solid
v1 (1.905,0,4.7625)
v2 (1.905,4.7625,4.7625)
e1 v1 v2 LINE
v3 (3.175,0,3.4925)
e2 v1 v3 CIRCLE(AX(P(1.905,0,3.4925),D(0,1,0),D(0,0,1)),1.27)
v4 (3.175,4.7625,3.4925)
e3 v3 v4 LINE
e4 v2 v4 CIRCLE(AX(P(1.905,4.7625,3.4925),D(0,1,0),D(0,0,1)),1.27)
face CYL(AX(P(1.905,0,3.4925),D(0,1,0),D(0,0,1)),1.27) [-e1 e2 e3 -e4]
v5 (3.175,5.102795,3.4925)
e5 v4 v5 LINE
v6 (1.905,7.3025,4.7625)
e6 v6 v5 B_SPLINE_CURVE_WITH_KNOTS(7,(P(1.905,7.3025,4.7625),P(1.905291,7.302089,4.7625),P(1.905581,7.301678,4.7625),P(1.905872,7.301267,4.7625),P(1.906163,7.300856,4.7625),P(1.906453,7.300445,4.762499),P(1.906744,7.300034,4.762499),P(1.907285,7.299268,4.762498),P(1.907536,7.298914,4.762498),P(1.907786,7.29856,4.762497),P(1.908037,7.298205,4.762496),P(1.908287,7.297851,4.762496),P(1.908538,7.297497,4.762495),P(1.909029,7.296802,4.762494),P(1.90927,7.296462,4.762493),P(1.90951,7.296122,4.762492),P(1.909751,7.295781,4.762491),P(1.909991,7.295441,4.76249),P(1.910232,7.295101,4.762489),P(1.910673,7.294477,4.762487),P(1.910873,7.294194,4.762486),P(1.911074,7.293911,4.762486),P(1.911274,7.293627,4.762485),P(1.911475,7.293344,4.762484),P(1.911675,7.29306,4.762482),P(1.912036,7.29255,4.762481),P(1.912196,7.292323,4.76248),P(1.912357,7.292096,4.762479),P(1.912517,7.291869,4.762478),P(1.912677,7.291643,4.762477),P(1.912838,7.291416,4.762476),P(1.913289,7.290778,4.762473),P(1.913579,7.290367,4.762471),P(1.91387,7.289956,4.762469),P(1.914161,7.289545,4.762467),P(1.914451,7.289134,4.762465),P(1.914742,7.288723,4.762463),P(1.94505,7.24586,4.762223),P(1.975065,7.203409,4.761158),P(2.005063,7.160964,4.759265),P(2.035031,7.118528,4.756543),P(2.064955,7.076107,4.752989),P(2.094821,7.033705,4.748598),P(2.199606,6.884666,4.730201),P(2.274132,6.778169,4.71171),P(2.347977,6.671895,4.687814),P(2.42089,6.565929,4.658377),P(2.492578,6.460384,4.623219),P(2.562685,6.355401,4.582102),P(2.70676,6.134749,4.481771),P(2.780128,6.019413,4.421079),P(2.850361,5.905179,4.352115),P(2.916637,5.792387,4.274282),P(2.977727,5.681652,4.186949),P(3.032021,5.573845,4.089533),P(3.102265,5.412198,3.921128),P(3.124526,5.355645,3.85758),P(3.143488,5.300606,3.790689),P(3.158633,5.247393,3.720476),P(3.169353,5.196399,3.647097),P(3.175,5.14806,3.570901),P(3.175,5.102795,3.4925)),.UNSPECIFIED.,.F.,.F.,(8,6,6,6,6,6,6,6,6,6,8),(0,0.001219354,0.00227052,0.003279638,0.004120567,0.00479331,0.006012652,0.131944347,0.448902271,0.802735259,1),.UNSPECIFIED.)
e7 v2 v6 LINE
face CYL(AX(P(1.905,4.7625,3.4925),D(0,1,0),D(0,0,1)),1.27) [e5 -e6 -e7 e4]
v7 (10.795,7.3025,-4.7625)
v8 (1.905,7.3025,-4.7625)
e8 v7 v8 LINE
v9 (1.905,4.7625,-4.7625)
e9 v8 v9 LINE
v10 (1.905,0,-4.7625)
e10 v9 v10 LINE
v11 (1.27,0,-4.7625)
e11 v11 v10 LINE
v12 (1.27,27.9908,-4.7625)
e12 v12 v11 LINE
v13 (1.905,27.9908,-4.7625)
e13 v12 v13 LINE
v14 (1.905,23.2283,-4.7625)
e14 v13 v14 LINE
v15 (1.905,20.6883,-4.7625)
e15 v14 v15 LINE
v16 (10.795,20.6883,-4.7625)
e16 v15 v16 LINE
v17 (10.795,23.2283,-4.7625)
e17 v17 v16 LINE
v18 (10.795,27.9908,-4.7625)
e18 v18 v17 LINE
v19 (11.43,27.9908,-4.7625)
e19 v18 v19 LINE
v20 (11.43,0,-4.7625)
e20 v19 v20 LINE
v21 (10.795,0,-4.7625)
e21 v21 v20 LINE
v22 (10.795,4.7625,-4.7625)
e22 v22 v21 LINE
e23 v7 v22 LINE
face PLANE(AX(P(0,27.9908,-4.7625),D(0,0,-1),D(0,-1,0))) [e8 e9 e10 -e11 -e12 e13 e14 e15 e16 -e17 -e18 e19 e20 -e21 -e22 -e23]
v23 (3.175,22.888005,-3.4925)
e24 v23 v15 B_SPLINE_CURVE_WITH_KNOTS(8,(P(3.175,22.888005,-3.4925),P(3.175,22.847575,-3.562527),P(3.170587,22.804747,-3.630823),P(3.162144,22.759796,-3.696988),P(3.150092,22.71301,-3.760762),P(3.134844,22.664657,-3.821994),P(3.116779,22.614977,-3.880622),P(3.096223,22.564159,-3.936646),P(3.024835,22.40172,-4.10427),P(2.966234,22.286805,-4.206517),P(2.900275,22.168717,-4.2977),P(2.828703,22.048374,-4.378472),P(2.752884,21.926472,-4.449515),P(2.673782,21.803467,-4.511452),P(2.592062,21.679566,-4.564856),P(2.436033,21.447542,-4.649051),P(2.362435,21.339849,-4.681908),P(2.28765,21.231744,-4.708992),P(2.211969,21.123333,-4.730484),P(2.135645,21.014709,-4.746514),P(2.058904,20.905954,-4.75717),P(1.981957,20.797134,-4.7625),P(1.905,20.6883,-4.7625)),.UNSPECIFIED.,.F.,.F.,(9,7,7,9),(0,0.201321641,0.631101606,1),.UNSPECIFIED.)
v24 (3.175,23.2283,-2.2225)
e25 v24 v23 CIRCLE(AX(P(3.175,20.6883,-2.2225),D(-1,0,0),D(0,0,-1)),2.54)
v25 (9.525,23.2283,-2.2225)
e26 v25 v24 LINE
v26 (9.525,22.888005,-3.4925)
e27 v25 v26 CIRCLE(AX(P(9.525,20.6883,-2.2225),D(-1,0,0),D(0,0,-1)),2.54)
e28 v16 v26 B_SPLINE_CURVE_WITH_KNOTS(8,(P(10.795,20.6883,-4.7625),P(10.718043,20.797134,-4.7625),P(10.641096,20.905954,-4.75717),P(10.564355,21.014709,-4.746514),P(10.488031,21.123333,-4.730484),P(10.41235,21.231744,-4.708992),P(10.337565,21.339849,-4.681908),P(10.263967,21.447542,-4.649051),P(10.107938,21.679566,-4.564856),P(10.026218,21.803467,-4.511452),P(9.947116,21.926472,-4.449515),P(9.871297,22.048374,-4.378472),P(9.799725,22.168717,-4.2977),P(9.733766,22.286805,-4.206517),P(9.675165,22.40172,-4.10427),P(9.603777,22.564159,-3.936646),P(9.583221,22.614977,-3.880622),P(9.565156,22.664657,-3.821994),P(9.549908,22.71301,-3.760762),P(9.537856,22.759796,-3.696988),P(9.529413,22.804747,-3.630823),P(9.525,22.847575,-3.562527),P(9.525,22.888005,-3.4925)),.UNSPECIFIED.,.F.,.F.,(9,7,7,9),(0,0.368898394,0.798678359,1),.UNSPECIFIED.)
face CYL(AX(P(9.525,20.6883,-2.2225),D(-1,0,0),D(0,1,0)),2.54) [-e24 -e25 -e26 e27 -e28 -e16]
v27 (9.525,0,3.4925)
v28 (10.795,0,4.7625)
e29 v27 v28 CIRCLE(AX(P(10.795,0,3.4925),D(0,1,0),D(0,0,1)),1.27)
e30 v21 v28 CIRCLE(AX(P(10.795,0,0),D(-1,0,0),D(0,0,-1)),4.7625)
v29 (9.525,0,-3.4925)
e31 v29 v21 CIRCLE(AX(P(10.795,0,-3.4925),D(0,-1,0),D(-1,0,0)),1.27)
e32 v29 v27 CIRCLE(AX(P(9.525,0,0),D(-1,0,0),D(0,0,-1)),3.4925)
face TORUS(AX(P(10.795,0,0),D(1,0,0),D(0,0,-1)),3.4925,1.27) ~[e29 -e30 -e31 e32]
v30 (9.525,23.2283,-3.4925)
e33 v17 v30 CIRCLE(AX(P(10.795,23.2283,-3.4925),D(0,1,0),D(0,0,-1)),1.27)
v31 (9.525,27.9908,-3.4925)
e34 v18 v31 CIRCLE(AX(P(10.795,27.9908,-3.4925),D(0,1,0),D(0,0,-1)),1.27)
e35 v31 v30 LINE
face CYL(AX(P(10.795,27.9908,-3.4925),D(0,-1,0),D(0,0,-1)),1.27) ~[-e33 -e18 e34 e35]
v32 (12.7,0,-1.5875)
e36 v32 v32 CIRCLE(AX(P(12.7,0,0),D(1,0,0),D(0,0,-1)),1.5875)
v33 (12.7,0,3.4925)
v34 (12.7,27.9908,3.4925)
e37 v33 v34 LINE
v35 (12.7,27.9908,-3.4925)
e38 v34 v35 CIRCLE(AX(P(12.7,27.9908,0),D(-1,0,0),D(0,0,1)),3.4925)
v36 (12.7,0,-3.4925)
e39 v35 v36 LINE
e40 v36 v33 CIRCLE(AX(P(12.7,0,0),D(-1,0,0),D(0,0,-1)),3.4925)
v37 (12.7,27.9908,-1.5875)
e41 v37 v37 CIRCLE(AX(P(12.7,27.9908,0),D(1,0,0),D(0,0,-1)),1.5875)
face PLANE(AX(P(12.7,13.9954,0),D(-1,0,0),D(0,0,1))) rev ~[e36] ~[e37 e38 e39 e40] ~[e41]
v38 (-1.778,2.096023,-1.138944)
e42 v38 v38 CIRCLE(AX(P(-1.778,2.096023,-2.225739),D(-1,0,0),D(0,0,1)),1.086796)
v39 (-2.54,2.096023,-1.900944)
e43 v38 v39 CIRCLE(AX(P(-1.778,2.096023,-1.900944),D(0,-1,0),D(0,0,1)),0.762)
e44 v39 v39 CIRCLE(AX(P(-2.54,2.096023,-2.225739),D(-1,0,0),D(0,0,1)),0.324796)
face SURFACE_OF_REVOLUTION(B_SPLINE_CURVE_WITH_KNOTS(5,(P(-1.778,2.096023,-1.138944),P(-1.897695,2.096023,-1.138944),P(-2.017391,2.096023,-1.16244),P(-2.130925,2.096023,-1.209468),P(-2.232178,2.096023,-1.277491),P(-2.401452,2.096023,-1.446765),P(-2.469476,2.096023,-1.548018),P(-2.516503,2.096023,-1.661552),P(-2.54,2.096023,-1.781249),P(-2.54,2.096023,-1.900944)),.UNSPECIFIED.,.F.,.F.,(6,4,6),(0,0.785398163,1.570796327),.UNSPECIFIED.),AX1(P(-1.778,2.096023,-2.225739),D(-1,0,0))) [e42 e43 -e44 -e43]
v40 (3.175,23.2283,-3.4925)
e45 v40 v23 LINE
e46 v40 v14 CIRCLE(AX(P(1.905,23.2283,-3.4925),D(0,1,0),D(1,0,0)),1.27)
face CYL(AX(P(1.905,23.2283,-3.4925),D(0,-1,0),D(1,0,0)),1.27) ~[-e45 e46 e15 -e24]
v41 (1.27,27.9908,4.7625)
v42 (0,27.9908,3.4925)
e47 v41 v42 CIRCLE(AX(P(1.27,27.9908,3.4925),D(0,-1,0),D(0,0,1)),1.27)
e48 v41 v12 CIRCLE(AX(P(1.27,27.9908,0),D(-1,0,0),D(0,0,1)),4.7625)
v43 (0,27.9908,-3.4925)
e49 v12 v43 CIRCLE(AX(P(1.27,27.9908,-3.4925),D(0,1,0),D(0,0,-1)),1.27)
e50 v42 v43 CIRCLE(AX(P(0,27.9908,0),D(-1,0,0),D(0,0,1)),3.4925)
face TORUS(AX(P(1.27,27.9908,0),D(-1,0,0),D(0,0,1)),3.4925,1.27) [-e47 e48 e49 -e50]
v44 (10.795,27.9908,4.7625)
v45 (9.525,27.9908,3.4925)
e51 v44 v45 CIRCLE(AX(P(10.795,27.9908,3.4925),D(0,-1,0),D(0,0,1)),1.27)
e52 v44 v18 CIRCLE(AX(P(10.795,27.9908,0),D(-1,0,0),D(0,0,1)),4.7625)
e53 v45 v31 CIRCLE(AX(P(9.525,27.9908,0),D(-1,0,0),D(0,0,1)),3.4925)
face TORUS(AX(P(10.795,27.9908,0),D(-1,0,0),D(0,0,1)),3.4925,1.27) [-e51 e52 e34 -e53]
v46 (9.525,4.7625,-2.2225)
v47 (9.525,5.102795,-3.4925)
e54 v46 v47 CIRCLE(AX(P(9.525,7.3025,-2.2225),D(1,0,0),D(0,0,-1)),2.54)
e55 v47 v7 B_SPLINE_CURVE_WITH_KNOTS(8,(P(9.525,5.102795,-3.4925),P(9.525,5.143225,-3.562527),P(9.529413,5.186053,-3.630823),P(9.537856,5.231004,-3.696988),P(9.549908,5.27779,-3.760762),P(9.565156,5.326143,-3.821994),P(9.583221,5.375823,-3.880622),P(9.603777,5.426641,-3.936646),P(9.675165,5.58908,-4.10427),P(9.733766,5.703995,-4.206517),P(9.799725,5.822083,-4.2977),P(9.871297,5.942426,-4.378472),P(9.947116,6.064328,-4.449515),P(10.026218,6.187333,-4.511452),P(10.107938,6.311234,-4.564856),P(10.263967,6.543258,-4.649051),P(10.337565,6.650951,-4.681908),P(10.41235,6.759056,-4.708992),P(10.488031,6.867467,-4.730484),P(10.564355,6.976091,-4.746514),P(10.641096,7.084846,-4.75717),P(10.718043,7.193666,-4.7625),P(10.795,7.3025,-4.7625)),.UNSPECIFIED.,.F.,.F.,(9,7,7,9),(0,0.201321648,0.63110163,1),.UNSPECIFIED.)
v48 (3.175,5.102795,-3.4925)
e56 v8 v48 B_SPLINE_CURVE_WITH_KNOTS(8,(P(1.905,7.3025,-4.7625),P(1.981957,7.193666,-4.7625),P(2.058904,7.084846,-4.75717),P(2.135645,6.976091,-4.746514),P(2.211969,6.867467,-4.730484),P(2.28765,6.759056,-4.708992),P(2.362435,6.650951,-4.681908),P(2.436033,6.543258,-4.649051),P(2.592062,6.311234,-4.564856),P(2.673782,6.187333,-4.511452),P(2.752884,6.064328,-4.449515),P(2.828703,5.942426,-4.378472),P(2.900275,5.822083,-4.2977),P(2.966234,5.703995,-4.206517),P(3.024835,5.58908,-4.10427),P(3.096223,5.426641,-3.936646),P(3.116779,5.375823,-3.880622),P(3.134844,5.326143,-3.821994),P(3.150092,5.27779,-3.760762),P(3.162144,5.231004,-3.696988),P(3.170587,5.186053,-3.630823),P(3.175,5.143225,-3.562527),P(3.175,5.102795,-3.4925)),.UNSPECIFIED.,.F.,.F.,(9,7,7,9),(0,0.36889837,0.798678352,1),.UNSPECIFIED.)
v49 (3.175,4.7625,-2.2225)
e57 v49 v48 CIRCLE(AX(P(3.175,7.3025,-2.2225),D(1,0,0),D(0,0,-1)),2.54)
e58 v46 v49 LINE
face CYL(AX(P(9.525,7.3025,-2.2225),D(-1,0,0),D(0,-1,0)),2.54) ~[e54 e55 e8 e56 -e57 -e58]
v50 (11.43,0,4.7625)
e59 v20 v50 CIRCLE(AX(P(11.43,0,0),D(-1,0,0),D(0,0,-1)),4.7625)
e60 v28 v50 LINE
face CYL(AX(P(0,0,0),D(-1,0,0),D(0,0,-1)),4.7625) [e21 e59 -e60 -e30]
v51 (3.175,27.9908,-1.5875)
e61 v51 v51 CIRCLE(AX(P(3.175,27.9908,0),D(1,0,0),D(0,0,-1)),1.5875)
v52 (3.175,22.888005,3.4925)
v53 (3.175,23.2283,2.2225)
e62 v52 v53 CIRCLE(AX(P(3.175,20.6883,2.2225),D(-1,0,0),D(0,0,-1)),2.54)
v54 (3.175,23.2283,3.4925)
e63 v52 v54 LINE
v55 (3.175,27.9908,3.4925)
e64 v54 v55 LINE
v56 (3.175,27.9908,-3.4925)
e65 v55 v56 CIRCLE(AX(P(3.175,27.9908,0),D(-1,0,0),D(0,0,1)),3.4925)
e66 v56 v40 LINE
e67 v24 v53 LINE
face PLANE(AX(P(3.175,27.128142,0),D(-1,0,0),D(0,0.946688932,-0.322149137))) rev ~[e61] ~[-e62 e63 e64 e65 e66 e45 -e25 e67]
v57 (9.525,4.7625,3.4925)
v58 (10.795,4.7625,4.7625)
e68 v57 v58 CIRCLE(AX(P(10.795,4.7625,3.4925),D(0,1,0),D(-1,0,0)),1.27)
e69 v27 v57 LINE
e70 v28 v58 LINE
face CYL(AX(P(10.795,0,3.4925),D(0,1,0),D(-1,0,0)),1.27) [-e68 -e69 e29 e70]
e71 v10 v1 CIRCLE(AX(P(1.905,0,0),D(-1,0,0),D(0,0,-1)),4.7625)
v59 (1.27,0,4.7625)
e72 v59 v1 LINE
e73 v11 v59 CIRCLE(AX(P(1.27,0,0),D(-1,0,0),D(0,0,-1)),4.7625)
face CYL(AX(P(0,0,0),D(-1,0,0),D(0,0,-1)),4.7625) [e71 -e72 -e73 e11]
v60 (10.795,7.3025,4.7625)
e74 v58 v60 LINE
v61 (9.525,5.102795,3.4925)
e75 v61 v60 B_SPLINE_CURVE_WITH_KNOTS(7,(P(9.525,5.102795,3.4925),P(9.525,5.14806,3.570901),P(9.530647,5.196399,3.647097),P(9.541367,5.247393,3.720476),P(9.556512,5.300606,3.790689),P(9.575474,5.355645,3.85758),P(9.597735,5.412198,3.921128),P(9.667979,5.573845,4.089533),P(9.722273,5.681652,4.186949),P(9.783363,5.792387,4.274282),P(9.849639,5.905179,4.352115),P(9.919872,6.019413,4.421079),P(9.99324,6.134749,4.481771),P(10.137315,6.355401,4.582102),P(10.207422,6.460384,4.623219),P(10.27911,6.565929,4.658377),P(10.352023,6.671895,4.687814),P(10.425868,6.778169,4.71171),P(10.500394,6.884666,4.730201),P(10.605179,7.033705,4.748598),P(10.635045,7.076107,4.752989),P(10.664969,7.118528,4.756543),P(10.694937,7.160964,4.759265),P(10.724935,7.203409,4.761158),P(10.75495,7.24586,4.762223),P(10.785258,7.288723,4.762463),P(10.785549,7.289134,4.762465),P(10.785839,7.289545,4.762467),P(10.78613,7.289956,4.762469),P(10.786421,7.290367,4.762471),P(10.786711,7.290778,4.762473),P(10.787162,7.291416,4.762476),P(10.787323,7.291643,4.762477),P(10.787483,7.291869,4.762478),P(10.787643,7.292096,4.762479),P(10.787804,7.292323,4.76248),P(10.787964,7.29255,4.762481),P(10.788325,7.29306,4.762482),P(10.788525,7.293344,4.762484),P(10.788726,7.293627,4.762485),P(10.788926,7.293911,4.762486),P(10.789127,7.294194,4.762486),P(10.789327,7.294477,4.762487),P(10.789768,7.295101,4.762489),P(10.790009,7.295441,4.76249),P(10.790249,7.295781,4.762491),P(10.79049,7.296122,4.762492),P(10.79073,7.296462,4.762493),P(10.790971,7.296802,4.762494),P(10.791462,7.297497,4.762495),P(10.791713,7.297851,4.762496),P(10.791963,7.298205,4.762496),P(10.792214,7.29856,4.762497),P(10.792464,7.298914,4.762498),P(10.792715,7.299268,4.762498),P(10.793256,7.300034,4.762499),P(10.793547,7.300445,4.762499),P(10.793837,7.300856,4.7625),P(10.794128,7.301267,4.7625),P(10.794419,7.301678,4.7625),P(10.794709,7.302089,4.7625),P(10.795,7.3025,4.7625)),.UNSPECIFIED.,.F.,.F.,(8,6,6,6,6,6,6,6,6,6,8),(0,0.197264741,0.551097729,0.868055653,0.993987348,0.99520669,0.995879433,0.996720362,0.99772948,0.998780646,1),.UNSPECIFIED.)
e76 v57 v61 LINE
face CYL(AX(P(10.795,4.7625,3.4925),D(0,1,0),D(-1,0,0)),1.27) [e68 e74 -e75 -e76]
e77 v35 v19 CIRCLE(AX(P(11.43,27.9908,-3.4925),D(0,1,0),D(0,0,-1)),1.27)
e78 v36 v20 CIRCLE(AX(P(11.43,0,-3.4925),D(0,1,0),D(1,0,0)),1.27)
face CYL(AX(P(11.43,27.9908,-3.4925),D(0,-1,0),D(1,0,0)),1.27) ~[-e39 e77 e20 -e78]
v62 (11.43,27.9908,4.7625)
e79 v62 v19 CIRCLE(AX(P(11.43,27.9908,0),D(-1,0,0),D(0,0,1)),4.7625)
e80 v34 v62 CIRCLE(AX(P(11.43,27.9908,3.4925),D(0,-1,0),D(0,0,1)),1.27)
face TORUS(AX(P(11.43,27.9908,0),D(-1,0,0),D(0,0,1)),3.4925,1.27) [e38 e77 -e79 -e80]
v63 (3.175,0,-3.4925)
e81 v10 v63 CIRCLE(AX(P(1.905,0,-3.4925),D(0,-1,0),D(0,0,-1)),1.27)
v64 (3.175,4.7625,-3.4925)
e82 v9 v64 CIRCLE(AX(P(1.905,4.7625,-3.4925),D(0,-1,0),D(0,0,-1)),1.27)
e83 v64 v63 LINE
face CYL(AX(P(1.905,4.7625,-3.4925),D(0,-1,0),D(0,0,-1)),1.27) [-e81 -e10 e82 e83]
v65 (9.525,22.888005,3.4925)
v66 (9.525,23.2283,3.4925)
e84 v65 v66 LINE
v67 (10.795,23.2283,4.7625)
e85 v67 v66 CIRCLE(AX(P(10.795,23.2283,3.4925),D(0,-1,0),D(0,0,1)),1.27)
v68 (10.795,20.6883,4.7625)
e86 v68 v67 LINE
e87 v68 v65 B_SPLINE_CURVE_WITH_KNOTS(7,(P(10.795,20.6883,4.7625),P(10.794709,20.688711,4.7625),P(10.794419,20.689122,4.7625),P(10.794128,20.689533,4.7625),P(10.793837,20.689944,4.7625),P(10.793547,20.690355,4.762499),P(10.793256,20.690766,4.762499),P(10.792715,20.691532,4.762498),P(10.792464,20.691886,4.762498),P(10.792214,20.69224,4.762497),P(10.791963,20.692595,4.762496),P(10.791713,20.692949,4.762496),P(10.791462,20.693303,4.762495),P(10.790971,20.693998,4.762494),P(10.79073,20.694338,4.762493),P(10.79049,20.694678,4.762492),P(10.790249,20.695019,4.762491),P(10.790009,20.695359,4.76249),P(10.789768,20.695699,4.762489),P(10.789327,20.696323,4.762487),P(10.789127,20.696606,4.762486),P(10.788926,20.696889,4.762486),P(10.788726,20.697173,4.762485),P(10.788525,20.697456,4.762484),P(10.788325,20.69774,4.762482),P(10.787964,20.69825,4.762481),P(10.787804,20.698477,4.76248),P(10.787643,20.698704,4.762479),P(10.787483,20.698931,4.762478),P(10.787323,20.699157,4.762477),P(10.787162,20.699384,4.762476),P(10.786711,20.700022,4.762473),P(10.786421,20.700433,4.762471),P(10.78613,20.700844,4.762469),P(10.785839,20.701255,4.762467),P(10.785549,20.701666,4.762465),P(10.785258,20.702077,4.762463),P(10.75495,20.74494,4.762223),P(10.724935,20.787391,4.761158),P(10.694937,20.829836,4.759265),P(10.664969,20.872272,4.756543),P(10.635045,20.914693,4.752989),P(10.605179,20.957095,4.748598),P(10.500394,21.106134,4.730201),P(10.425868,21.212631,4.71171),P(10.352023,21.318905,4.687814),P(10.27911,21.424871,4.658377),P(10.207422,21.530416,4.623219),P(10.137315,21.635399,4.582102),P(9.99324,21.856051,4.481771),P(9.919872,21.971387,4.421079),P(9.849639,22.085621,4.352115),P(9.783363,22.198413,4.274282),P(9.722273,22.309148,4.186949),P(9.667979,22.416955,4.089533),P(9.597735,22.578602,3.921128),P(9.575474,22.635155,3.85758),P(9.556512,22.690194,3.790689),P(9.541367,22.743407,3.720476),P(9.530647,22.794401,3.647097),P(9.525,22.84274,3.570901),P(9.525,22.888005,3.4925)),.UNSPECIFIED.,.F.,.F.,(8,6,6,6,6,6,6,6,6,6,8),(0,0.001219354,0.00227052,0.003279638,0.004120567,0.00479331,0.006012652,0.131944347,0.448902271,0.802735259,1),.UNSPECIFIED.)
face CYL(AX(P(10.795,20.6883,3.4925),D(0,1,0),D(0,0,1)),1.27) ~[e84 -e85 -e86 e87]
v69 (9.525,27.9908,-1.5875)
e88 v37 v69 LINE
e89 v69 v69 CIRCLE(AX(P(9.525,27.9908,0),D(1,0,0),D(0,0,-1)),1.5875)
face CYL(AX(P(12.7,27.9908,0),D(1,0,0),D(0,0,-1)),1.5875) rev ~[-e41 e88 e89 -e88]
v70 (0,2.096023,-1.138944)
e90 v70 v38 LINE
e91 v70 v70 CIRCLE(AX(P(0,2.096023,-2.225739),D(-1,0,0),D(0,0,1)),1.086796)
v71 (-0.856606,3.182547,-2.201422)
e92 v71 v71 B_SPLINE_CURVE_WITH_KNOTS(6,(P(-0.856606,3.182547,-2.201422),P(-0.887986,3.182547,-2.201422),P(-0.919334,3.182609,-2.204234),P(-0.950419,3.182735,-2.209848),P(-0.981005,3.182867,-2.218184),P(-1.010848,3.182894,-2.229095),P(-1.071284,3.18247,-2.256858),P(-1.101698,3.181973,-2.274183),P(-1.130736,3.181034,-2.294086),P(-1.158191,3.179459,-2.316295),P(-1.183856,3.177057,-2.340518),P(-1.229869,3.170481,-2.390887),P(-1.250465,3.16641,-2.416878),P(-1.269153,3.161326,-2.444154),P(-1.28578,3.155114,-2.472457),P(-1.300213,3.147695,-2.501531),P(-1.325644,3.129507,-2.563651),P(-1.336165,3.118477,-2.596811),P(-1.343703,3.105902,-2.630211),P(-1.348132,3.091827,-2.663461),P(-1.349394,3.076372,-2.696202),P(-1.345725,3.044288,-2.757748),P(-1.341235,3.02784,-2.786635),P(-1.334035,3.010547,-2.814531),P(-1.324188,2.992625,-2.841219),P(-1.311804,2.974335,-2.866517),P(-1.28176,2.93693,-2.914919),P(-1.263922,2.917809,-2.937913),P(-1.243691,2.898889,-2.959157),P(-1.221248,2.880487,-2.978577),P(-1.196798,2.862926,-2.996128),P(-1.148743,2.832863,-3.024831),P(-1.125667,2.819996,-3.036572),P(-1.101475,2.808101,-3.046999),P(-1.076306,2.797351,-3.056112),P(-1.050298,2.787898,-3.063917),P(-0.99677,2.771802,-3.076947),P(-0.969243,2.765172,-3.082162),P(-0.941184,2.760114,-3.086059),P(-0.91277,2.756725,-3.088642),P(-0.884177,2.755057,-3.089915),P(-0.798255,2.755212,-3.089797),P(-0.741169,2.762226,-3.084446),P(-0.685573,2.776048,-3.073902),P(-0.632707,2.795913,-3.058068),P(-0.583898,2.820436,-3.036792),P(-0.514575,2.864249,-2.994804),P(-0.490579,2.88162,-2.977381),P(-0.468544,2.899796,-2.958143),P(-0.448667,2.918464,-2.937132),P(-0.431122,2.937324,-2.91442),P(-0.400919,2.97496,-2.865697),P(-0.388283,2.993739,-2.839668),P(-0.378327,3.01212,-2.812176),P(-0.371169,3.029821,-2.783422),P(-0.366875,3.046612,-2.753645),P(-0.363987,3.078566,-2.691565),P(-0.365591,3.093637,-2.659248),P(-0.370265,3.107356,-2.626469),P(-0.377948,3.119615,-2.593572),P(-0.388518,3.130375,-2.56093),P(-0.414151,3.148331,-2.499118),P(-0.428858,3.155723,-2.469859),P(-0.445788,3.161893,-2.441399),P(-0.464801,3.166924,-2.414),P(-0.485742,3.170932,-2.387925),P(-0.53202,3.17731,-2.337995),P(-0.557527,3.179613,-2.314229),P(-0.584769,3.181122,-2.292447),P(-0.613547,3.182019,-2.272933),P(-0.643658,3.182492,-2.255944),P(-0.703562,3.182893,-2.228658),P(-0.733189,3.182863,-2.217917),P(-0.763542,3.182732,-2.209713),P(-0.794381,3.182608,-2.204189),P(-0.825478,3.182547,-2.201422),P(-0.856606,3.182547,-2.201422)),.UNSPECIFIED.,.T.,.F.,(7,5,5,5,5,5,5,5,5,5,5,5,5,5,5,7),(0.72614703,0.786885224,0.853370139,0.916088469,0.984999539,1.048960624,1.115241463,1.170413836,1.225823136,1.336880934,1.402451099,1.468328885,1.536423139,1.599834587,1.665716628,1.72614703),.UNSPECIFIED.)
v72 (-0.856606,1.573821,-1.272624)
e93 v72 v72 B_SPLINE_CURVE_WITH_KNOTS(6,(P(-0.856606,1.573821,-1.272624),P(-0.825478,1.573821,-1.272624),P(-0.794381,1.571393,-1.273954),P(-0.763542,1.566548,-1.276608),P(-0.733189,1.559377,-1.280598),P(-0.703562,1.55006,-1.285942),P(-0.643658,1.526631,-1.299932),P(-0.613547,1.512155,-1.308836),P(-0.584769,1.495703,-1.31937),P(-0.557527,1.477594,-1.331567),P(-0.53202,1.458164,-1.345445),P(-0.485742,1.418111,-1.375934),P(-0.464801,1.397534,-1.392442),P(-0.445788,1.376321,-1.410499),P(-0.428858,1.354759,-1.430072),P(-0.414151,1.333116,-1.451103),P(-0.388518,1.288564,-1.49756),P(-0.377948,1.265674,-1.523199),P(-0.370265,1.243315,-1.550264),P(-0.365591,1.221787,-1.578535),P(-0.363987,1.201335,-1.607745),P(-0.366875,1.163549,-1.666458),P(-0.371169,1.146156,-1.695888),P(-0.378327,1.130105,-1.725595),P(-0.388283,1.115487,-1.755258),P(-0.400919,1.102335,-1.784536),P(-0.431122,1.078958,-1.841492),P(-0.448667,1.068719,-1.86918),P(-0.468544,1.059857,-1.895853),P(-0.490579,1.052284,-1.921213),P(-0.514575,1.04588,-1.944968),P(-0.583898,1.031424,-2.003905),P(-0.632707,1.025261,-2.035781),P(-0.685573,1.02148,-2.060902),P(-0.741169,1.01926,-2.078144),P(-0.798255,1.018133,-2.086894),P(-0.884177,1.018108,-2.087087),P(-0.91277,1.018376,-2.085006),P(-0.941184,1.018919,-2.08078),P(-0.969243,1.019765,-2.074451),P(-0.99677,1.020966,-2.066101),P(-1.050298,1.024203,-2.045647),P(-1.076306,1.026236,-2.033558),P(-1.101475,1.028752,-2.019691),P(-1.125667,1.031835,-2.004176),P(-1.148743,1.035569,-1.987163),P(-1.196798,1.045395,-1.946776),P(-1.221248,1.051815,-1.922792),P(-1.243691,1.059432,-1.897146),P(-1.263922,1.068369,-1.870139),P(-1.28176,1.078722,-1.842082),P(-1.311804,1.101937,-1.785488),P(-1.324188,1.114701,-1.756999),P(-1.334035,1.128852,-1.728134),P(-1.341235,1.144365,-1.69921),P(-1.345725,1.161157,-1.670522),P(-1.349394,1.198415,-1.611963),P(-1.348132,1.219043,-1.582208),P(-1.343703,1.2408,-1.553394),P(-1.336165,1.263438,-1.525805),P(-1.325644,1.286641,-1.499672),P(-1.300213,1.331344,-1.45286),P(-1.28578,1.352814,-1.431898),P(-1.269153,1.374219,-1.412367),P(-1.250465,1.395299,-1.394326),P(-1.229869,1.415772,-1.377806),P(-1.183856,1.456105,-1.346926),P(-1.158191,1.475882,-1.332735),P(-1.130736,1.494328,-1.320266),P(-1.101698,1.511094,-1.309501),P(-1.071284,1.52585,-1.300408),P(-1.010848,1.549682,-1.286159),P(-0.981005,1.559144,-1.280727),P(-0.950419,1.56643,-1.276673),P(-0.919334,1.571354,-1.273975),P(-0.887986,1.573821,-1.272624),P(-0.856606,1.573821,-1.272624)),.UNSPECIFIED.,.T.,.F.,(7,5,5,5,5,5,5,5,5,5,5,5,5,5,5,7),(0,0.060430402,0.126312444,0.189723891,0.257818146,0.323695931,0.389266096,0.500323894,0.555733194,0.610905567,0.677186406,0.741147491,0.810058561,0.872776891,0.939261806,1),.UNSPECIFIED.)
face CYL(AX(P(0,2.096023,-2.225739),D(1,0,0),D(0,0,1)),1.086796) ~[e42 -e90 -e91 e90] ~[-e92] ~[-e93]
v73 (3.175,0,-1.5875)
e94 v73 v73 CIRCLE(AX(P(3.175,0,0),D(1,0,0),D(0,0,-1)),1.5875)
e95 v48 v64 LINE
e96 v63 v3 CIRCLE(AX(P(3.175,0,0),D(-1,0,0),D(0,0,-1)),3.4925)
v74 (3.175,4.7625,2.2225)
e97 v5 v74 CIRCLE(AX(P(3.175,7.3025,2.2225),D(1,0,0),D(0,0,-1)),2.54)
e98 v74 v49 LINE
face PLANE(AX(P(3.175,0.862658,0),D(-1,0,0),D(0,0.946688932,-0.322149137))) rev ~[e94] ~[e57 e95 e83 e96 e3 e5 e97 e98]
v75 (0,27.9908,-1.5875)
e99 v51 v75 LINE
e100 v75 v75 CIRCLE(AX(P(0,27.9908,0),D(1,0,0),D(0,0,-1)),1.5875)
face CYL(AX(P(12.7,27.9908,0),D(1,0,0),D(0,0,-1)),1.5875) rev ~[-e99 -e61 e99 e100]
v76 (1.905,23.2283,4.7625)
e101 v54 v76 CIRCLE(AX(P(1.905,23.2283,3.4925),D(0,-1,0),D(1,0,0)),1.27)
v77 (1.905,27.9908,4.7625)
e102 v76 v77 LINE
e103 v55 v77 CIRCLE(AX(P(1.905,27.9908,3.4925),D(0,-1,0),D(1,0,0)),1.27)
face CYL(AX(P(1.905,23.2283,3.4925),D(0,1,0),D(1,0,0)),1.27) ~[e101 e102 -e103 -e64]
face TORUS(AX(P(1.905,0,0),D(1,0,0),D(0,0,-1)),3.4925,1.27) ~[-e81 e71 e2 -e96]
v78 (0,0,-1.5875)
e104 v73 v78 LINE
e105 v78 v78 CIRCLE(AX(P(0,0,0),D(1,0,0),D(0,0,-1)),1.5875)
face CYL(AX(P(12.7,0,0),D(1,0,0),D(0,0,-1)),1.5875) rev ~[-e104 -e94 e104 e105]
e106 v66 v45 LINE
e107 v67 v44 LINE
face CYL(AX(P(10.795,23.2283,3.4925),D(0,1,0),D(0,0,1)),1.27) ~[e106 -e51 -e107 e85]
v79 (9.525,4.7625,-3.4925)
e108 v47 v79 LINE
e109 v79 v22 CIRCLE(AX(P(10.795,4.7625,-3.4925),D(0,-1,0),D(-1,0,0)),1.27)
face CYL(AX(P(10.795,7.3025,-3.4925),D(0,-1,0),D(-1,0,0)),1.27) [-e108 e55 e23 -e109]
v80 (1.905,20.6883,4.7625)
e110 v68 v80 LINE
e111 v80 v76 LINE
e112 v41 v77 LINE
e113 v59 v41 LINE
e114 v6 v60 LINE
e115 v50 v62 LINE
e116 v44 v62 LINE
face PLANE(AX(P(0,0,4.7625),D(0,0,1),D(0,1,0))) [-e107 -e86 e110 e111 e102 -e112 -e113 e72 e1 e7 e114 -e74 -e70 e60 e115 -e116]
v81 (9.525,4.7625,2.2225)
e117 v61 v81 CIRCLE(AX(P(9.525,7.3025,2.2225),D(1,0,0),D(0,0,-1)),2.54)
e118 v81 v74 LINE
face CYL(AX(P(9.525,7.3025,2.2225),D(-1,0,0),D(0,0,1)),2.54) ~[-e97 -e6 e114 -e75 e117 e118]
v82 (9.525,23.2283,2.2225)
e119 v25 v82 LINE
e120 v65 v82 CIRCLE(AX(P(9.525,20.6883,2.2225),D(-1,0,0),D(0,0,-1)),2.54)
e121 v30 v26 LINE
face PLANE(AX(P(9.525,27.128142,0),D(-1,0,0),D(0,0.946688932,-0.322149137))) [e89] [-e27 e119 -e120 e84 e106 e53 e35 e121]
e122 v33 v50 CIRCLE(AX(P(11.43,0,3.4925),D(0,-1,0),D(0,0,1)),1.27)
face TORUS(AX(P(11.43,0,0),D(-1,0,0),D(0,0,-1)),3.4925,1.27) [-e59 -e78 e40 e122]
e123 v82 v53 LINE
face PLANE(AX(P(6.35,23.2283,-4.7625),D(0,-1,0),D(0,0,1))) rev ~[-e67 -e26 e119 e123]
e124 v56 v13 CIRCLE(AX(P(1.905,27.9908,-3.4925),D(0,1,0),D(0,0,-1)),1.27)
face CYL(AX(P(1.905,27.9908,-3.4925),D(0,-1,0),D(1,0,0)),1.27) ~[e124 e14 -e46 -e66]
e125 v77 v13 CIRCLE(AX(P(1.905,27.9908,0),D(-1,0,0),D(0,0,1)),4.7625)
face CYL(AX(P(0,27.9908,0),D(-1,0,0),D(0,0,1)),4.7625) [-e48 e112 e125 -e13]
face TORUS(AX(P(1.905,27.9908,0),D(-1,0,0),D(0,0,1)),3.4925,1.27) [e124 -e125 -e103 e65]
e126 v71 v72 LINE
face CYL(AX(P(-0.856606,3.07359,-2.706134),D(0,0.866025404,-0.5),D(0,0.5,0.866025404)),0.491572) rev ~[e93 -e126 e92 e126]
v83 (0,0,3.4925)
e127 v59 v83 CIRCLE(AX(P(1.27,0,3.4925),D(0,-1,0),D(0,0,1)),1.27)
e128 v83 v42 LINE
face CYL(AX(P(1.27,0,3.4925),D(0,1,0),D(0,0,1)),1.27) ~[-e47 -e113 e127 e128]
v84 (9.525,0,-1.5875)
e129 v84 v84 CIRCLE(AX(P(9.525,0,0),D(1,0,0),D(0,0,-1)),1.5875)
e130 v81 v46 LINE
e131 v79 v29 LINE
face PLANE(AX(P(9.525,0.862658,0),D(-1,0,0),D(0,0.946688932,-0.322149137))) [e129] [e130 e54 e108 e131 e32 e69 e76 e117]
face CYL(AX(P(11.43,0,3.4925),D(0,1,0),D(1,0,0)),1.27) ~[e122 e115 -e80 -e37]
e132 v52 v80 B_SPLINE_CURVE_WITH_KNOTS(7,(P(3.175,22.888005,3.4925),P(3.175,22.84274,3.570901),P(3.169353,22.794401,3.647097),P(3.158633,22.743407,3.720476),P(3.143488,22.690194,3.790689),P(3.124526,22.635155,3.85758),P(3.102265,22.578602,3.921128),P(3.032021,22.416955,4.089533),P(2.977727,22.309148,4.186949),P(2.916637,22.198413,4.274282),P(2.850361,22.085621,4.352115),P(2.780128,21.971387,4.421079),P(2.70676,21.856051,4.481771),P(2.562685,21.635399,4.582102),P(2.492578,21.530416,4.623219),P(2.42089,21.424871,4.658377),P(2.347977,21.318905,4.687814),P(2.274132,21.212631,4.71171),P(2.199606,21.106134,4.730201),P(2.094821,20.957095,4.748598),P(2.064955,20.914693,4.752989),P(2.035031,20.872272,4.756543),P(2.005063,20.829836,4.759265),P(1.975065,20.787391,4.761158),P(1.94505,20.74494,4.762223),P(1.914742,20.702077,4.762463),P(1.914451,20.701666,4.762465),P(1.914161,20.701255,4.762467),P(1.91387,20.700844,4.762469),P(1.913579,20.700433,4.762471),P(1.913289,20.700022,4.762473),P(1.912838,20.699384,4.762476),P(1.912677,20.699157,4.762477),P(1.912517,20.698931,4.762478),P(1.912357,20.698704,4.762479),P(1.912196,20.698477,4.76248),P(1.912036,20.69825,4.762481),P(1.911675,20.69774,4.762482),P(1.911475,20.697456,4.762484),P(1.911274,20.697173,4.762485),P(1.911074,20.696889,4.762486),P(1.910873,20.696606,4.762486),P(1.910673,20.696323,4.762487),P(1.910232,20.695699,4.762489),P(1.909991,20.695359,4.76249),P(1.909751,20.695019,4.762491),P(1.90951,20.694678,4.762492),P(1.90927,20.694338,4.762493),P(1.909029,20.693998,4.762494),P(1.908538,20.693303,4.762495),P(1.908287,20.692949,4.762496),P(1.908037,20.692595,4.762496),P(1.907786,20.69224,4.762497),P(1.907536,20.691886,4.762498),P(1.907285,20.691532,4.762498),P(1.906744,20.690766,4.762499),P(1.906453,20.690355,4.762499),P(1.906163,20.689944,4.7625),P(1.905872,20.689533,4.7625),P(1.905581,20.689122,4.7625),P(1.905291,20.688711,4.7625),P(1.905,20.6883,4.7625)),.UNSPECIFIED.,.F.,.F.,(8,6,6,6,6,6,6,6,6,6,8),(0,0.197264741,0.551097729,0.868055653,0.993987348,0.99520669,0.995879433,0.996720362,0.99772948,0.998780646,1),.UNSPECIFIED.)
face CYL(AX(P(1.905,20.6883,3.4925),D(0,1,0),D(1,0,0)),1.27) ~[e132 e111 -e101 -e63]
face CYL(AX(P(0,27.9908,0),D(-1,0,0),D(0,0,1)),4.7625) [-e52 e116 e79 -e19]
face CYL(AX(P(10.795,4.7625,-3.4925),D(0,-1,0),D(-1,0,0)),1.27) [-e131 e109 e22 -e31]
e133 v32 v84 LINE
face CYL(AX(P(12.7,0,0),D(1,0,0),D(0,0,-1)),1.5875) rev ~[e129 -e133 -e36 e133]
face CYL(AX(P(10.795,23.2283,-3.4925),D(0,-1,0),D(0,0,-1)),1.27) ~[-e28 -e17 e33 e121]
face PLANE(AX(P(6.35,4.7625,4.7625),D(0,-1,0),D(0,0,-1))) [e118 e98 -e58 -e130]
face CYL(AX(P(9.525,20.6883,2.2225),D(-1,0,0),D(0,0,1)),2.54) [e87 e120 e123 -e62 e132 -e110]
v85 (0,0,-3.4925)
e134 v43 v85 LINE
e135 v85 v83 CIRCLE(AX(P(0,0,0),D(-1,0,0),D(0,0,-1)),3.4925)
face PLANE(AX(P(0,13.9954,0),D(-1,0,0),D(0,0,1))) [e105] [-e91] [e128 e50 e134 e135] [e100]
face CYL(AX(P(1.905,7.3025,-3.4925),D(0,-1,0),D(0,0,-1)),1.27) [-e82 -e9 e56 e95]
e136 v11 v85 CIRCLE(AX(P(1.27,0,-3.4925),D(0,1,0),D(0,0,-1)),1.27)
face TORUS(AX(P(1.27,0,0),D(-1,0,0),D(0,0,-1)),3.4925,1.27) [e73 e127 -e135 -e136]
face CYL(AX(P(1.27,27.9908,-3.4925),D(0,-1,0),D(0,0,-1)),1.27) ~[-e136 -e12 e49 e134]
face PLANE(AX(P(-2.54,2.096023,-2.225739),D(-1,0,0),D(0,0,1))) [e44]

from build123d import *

# Parameters (mm, degrees)
BOSS_EXTRUDE1_DEPTH = 12.7
SKETCH2_R           = 1.5875
CUT_EXTRUDE1_DEPTH  = 19.05
CUT_EXTRUDE2_DEPTH  = 3.175
FILLET2_R           = 2.54
FILLET3_R           = 1.27
SKETCH3_R           = 1.086795662
BOSS_EXTRUDE2_DEPTH = 2.54
FILLET4_R           = 0.762
SKETCH4_R           = 0.491571792
CUT_EXTRUDE3_DEPTH  = 2.54


with BuildPart() as part:
    # Sketch1 → Boss-Extrude1 (new body)
    with BuildSketch(Plane(origin=(0, 0, 0), x_dir=(0, 0, -1), z_dir=(1, 0, 0))):
        with BuildLine():
            Line((-4.7625, 0), (-4.7625, 27.9908))
            ThreePointArc((-4.7625, 27.9908), (0, 32.7533), (4.7625, 27.9908))
            Line((4.7625, 27.9908), (4.7625, 0))
            ThreePointArc((4.7625, 0), (0, -4.7625), (-4.7625, 0))
        make_face()
    extrude(amount=BOSS_EXTRUDE1_DEPTH)

    # Sketch2 → Cut-Extrude1 (cut)
    with BuildSketch(Plane(origin=(12.7, 0, 0), x_dir=(0, 0, -1), z_dir=(1, 0, 0))):
        Circle(SKETCH2_R)
        with Locations((0, 27.9908)):
            Circle(SKETCH2_R)
    extrude(amount=-CUT_EXTRUDE1_DEPTH, mode=Mode.SUBTRACT)

    # 3DSketch1 → Cut-Extrude2 (cut, symmetric)
    with BuildSketch(Plane(origin=(6.35, 27.9908, -4.7625), x_dir=(0, -0.9466889316456175, 0.322149137356721), z_dir=(1, 0, 0))):
        with BuildLine():
            Line((0, 0), (4.508606037, 1.534235267))
            Line((4.508606037, 1.534235267), (7.57707657, -7.482976807))
            Line((7.57707657, -7.482976807), (3.068470533, -9.017212074))
            ThreePointArc((3.068470533, -9.017212074), (-2.97437077, -6.042841304), (0, 0))
        make_face()
        with BuildLine():
            Line((29.567051081, 0), (25.058445044, -1.534235267))
            Line((25.058445044, -1.534235267), (21.989974511, 7.482976807))
            Line((21.989974511, 7.482976807), (26.498580548, 9.017212074))
            ThreePointArc((26.498580548, 9.017212074), (32.541421852, 6.042841304), (29.567051081, 0))
        make_face()
    extrude(amount=CUT_EXTRUDE2_DEPTH, both=True, mode=Mode.SUBTRACT)

    # Fillet2
    fillet2_edges = [part.edges().sort_by_distance(p)[0] for p in [
        (6.35, 23.2283, -4.7625),
        (6.35, 4.7625, -4.7625),
        (6.35, 4.7625, 4.7625),
        (6.35, 23.2283, 4.7625),
    ]]
    fillet(fillet2_edges, radius=FILLET2_R)

    # Fillet3
    fillet3_edges = [part.edges().sort_by_distance(p)[0] for p in [
        (12.7, 32.7533, 0),
        (12.7, 13.9954, 4.7625),
        (9.525, 24.33955, 4.7625),
        (9.525, 24.33955, -4.7625),
        (3.175, 24.33955, -4.7625),
        (3.175, 24.33955, 4.7625),
        (12.7, -4.7625, 0),
        (0, 13.9954, 4.7625),
        (0, 32.7533, 0),
        (9.525, 3.65125, -4.7625),
        (9.525, 3.65125, 4.7625),
        (0, 13.9954, -4.7625),
        (3.175, 3.65125, 4.7625),
        (3.175, 3.65125, -4.7625),
        (0, -4.7625, 0),
        (12.7, 13.9954, -4.7625),
    ]]
    fillet(fillet3_edges, radius=FILLET3_R)

    # Sketch3 → Boss-Extrude2 (add)
    with BuildSketch(Plane.ZY):
        with Locations((-2.225739377, 2.096022994)):
            Circle(SKETCH3_R)
    extrude(amount=BOSS_EXTRUDE2_DEPTH)

    # Fillet4
    fillet4_edges = [part.edges().sort_by_distance(p)[0] for p in [
        (-2.54, 2.096022994, -3.312535039),
    ]]
    fillet(fillet4_edges, radius=FILLET4_R)

    # Sketch4 → Cut-Extrude3 (cut)
    with BuildSketch(Plane(origin=(0, 3.476983319, -2.007437255), x_dir=(-1, 0, 0), z_dir=(0, 0.8660254037844399, -0.4999999999999979))):
        with Locations(Location((0.856605906, -0.806785971, 0), (0, 0, 90))):
            Circle(SKETCH4_R)
    extrude(amount=-CUT_EXTRUDE3_DEPTH, mode=Mode.SUBTRACT)


solid = part.part
